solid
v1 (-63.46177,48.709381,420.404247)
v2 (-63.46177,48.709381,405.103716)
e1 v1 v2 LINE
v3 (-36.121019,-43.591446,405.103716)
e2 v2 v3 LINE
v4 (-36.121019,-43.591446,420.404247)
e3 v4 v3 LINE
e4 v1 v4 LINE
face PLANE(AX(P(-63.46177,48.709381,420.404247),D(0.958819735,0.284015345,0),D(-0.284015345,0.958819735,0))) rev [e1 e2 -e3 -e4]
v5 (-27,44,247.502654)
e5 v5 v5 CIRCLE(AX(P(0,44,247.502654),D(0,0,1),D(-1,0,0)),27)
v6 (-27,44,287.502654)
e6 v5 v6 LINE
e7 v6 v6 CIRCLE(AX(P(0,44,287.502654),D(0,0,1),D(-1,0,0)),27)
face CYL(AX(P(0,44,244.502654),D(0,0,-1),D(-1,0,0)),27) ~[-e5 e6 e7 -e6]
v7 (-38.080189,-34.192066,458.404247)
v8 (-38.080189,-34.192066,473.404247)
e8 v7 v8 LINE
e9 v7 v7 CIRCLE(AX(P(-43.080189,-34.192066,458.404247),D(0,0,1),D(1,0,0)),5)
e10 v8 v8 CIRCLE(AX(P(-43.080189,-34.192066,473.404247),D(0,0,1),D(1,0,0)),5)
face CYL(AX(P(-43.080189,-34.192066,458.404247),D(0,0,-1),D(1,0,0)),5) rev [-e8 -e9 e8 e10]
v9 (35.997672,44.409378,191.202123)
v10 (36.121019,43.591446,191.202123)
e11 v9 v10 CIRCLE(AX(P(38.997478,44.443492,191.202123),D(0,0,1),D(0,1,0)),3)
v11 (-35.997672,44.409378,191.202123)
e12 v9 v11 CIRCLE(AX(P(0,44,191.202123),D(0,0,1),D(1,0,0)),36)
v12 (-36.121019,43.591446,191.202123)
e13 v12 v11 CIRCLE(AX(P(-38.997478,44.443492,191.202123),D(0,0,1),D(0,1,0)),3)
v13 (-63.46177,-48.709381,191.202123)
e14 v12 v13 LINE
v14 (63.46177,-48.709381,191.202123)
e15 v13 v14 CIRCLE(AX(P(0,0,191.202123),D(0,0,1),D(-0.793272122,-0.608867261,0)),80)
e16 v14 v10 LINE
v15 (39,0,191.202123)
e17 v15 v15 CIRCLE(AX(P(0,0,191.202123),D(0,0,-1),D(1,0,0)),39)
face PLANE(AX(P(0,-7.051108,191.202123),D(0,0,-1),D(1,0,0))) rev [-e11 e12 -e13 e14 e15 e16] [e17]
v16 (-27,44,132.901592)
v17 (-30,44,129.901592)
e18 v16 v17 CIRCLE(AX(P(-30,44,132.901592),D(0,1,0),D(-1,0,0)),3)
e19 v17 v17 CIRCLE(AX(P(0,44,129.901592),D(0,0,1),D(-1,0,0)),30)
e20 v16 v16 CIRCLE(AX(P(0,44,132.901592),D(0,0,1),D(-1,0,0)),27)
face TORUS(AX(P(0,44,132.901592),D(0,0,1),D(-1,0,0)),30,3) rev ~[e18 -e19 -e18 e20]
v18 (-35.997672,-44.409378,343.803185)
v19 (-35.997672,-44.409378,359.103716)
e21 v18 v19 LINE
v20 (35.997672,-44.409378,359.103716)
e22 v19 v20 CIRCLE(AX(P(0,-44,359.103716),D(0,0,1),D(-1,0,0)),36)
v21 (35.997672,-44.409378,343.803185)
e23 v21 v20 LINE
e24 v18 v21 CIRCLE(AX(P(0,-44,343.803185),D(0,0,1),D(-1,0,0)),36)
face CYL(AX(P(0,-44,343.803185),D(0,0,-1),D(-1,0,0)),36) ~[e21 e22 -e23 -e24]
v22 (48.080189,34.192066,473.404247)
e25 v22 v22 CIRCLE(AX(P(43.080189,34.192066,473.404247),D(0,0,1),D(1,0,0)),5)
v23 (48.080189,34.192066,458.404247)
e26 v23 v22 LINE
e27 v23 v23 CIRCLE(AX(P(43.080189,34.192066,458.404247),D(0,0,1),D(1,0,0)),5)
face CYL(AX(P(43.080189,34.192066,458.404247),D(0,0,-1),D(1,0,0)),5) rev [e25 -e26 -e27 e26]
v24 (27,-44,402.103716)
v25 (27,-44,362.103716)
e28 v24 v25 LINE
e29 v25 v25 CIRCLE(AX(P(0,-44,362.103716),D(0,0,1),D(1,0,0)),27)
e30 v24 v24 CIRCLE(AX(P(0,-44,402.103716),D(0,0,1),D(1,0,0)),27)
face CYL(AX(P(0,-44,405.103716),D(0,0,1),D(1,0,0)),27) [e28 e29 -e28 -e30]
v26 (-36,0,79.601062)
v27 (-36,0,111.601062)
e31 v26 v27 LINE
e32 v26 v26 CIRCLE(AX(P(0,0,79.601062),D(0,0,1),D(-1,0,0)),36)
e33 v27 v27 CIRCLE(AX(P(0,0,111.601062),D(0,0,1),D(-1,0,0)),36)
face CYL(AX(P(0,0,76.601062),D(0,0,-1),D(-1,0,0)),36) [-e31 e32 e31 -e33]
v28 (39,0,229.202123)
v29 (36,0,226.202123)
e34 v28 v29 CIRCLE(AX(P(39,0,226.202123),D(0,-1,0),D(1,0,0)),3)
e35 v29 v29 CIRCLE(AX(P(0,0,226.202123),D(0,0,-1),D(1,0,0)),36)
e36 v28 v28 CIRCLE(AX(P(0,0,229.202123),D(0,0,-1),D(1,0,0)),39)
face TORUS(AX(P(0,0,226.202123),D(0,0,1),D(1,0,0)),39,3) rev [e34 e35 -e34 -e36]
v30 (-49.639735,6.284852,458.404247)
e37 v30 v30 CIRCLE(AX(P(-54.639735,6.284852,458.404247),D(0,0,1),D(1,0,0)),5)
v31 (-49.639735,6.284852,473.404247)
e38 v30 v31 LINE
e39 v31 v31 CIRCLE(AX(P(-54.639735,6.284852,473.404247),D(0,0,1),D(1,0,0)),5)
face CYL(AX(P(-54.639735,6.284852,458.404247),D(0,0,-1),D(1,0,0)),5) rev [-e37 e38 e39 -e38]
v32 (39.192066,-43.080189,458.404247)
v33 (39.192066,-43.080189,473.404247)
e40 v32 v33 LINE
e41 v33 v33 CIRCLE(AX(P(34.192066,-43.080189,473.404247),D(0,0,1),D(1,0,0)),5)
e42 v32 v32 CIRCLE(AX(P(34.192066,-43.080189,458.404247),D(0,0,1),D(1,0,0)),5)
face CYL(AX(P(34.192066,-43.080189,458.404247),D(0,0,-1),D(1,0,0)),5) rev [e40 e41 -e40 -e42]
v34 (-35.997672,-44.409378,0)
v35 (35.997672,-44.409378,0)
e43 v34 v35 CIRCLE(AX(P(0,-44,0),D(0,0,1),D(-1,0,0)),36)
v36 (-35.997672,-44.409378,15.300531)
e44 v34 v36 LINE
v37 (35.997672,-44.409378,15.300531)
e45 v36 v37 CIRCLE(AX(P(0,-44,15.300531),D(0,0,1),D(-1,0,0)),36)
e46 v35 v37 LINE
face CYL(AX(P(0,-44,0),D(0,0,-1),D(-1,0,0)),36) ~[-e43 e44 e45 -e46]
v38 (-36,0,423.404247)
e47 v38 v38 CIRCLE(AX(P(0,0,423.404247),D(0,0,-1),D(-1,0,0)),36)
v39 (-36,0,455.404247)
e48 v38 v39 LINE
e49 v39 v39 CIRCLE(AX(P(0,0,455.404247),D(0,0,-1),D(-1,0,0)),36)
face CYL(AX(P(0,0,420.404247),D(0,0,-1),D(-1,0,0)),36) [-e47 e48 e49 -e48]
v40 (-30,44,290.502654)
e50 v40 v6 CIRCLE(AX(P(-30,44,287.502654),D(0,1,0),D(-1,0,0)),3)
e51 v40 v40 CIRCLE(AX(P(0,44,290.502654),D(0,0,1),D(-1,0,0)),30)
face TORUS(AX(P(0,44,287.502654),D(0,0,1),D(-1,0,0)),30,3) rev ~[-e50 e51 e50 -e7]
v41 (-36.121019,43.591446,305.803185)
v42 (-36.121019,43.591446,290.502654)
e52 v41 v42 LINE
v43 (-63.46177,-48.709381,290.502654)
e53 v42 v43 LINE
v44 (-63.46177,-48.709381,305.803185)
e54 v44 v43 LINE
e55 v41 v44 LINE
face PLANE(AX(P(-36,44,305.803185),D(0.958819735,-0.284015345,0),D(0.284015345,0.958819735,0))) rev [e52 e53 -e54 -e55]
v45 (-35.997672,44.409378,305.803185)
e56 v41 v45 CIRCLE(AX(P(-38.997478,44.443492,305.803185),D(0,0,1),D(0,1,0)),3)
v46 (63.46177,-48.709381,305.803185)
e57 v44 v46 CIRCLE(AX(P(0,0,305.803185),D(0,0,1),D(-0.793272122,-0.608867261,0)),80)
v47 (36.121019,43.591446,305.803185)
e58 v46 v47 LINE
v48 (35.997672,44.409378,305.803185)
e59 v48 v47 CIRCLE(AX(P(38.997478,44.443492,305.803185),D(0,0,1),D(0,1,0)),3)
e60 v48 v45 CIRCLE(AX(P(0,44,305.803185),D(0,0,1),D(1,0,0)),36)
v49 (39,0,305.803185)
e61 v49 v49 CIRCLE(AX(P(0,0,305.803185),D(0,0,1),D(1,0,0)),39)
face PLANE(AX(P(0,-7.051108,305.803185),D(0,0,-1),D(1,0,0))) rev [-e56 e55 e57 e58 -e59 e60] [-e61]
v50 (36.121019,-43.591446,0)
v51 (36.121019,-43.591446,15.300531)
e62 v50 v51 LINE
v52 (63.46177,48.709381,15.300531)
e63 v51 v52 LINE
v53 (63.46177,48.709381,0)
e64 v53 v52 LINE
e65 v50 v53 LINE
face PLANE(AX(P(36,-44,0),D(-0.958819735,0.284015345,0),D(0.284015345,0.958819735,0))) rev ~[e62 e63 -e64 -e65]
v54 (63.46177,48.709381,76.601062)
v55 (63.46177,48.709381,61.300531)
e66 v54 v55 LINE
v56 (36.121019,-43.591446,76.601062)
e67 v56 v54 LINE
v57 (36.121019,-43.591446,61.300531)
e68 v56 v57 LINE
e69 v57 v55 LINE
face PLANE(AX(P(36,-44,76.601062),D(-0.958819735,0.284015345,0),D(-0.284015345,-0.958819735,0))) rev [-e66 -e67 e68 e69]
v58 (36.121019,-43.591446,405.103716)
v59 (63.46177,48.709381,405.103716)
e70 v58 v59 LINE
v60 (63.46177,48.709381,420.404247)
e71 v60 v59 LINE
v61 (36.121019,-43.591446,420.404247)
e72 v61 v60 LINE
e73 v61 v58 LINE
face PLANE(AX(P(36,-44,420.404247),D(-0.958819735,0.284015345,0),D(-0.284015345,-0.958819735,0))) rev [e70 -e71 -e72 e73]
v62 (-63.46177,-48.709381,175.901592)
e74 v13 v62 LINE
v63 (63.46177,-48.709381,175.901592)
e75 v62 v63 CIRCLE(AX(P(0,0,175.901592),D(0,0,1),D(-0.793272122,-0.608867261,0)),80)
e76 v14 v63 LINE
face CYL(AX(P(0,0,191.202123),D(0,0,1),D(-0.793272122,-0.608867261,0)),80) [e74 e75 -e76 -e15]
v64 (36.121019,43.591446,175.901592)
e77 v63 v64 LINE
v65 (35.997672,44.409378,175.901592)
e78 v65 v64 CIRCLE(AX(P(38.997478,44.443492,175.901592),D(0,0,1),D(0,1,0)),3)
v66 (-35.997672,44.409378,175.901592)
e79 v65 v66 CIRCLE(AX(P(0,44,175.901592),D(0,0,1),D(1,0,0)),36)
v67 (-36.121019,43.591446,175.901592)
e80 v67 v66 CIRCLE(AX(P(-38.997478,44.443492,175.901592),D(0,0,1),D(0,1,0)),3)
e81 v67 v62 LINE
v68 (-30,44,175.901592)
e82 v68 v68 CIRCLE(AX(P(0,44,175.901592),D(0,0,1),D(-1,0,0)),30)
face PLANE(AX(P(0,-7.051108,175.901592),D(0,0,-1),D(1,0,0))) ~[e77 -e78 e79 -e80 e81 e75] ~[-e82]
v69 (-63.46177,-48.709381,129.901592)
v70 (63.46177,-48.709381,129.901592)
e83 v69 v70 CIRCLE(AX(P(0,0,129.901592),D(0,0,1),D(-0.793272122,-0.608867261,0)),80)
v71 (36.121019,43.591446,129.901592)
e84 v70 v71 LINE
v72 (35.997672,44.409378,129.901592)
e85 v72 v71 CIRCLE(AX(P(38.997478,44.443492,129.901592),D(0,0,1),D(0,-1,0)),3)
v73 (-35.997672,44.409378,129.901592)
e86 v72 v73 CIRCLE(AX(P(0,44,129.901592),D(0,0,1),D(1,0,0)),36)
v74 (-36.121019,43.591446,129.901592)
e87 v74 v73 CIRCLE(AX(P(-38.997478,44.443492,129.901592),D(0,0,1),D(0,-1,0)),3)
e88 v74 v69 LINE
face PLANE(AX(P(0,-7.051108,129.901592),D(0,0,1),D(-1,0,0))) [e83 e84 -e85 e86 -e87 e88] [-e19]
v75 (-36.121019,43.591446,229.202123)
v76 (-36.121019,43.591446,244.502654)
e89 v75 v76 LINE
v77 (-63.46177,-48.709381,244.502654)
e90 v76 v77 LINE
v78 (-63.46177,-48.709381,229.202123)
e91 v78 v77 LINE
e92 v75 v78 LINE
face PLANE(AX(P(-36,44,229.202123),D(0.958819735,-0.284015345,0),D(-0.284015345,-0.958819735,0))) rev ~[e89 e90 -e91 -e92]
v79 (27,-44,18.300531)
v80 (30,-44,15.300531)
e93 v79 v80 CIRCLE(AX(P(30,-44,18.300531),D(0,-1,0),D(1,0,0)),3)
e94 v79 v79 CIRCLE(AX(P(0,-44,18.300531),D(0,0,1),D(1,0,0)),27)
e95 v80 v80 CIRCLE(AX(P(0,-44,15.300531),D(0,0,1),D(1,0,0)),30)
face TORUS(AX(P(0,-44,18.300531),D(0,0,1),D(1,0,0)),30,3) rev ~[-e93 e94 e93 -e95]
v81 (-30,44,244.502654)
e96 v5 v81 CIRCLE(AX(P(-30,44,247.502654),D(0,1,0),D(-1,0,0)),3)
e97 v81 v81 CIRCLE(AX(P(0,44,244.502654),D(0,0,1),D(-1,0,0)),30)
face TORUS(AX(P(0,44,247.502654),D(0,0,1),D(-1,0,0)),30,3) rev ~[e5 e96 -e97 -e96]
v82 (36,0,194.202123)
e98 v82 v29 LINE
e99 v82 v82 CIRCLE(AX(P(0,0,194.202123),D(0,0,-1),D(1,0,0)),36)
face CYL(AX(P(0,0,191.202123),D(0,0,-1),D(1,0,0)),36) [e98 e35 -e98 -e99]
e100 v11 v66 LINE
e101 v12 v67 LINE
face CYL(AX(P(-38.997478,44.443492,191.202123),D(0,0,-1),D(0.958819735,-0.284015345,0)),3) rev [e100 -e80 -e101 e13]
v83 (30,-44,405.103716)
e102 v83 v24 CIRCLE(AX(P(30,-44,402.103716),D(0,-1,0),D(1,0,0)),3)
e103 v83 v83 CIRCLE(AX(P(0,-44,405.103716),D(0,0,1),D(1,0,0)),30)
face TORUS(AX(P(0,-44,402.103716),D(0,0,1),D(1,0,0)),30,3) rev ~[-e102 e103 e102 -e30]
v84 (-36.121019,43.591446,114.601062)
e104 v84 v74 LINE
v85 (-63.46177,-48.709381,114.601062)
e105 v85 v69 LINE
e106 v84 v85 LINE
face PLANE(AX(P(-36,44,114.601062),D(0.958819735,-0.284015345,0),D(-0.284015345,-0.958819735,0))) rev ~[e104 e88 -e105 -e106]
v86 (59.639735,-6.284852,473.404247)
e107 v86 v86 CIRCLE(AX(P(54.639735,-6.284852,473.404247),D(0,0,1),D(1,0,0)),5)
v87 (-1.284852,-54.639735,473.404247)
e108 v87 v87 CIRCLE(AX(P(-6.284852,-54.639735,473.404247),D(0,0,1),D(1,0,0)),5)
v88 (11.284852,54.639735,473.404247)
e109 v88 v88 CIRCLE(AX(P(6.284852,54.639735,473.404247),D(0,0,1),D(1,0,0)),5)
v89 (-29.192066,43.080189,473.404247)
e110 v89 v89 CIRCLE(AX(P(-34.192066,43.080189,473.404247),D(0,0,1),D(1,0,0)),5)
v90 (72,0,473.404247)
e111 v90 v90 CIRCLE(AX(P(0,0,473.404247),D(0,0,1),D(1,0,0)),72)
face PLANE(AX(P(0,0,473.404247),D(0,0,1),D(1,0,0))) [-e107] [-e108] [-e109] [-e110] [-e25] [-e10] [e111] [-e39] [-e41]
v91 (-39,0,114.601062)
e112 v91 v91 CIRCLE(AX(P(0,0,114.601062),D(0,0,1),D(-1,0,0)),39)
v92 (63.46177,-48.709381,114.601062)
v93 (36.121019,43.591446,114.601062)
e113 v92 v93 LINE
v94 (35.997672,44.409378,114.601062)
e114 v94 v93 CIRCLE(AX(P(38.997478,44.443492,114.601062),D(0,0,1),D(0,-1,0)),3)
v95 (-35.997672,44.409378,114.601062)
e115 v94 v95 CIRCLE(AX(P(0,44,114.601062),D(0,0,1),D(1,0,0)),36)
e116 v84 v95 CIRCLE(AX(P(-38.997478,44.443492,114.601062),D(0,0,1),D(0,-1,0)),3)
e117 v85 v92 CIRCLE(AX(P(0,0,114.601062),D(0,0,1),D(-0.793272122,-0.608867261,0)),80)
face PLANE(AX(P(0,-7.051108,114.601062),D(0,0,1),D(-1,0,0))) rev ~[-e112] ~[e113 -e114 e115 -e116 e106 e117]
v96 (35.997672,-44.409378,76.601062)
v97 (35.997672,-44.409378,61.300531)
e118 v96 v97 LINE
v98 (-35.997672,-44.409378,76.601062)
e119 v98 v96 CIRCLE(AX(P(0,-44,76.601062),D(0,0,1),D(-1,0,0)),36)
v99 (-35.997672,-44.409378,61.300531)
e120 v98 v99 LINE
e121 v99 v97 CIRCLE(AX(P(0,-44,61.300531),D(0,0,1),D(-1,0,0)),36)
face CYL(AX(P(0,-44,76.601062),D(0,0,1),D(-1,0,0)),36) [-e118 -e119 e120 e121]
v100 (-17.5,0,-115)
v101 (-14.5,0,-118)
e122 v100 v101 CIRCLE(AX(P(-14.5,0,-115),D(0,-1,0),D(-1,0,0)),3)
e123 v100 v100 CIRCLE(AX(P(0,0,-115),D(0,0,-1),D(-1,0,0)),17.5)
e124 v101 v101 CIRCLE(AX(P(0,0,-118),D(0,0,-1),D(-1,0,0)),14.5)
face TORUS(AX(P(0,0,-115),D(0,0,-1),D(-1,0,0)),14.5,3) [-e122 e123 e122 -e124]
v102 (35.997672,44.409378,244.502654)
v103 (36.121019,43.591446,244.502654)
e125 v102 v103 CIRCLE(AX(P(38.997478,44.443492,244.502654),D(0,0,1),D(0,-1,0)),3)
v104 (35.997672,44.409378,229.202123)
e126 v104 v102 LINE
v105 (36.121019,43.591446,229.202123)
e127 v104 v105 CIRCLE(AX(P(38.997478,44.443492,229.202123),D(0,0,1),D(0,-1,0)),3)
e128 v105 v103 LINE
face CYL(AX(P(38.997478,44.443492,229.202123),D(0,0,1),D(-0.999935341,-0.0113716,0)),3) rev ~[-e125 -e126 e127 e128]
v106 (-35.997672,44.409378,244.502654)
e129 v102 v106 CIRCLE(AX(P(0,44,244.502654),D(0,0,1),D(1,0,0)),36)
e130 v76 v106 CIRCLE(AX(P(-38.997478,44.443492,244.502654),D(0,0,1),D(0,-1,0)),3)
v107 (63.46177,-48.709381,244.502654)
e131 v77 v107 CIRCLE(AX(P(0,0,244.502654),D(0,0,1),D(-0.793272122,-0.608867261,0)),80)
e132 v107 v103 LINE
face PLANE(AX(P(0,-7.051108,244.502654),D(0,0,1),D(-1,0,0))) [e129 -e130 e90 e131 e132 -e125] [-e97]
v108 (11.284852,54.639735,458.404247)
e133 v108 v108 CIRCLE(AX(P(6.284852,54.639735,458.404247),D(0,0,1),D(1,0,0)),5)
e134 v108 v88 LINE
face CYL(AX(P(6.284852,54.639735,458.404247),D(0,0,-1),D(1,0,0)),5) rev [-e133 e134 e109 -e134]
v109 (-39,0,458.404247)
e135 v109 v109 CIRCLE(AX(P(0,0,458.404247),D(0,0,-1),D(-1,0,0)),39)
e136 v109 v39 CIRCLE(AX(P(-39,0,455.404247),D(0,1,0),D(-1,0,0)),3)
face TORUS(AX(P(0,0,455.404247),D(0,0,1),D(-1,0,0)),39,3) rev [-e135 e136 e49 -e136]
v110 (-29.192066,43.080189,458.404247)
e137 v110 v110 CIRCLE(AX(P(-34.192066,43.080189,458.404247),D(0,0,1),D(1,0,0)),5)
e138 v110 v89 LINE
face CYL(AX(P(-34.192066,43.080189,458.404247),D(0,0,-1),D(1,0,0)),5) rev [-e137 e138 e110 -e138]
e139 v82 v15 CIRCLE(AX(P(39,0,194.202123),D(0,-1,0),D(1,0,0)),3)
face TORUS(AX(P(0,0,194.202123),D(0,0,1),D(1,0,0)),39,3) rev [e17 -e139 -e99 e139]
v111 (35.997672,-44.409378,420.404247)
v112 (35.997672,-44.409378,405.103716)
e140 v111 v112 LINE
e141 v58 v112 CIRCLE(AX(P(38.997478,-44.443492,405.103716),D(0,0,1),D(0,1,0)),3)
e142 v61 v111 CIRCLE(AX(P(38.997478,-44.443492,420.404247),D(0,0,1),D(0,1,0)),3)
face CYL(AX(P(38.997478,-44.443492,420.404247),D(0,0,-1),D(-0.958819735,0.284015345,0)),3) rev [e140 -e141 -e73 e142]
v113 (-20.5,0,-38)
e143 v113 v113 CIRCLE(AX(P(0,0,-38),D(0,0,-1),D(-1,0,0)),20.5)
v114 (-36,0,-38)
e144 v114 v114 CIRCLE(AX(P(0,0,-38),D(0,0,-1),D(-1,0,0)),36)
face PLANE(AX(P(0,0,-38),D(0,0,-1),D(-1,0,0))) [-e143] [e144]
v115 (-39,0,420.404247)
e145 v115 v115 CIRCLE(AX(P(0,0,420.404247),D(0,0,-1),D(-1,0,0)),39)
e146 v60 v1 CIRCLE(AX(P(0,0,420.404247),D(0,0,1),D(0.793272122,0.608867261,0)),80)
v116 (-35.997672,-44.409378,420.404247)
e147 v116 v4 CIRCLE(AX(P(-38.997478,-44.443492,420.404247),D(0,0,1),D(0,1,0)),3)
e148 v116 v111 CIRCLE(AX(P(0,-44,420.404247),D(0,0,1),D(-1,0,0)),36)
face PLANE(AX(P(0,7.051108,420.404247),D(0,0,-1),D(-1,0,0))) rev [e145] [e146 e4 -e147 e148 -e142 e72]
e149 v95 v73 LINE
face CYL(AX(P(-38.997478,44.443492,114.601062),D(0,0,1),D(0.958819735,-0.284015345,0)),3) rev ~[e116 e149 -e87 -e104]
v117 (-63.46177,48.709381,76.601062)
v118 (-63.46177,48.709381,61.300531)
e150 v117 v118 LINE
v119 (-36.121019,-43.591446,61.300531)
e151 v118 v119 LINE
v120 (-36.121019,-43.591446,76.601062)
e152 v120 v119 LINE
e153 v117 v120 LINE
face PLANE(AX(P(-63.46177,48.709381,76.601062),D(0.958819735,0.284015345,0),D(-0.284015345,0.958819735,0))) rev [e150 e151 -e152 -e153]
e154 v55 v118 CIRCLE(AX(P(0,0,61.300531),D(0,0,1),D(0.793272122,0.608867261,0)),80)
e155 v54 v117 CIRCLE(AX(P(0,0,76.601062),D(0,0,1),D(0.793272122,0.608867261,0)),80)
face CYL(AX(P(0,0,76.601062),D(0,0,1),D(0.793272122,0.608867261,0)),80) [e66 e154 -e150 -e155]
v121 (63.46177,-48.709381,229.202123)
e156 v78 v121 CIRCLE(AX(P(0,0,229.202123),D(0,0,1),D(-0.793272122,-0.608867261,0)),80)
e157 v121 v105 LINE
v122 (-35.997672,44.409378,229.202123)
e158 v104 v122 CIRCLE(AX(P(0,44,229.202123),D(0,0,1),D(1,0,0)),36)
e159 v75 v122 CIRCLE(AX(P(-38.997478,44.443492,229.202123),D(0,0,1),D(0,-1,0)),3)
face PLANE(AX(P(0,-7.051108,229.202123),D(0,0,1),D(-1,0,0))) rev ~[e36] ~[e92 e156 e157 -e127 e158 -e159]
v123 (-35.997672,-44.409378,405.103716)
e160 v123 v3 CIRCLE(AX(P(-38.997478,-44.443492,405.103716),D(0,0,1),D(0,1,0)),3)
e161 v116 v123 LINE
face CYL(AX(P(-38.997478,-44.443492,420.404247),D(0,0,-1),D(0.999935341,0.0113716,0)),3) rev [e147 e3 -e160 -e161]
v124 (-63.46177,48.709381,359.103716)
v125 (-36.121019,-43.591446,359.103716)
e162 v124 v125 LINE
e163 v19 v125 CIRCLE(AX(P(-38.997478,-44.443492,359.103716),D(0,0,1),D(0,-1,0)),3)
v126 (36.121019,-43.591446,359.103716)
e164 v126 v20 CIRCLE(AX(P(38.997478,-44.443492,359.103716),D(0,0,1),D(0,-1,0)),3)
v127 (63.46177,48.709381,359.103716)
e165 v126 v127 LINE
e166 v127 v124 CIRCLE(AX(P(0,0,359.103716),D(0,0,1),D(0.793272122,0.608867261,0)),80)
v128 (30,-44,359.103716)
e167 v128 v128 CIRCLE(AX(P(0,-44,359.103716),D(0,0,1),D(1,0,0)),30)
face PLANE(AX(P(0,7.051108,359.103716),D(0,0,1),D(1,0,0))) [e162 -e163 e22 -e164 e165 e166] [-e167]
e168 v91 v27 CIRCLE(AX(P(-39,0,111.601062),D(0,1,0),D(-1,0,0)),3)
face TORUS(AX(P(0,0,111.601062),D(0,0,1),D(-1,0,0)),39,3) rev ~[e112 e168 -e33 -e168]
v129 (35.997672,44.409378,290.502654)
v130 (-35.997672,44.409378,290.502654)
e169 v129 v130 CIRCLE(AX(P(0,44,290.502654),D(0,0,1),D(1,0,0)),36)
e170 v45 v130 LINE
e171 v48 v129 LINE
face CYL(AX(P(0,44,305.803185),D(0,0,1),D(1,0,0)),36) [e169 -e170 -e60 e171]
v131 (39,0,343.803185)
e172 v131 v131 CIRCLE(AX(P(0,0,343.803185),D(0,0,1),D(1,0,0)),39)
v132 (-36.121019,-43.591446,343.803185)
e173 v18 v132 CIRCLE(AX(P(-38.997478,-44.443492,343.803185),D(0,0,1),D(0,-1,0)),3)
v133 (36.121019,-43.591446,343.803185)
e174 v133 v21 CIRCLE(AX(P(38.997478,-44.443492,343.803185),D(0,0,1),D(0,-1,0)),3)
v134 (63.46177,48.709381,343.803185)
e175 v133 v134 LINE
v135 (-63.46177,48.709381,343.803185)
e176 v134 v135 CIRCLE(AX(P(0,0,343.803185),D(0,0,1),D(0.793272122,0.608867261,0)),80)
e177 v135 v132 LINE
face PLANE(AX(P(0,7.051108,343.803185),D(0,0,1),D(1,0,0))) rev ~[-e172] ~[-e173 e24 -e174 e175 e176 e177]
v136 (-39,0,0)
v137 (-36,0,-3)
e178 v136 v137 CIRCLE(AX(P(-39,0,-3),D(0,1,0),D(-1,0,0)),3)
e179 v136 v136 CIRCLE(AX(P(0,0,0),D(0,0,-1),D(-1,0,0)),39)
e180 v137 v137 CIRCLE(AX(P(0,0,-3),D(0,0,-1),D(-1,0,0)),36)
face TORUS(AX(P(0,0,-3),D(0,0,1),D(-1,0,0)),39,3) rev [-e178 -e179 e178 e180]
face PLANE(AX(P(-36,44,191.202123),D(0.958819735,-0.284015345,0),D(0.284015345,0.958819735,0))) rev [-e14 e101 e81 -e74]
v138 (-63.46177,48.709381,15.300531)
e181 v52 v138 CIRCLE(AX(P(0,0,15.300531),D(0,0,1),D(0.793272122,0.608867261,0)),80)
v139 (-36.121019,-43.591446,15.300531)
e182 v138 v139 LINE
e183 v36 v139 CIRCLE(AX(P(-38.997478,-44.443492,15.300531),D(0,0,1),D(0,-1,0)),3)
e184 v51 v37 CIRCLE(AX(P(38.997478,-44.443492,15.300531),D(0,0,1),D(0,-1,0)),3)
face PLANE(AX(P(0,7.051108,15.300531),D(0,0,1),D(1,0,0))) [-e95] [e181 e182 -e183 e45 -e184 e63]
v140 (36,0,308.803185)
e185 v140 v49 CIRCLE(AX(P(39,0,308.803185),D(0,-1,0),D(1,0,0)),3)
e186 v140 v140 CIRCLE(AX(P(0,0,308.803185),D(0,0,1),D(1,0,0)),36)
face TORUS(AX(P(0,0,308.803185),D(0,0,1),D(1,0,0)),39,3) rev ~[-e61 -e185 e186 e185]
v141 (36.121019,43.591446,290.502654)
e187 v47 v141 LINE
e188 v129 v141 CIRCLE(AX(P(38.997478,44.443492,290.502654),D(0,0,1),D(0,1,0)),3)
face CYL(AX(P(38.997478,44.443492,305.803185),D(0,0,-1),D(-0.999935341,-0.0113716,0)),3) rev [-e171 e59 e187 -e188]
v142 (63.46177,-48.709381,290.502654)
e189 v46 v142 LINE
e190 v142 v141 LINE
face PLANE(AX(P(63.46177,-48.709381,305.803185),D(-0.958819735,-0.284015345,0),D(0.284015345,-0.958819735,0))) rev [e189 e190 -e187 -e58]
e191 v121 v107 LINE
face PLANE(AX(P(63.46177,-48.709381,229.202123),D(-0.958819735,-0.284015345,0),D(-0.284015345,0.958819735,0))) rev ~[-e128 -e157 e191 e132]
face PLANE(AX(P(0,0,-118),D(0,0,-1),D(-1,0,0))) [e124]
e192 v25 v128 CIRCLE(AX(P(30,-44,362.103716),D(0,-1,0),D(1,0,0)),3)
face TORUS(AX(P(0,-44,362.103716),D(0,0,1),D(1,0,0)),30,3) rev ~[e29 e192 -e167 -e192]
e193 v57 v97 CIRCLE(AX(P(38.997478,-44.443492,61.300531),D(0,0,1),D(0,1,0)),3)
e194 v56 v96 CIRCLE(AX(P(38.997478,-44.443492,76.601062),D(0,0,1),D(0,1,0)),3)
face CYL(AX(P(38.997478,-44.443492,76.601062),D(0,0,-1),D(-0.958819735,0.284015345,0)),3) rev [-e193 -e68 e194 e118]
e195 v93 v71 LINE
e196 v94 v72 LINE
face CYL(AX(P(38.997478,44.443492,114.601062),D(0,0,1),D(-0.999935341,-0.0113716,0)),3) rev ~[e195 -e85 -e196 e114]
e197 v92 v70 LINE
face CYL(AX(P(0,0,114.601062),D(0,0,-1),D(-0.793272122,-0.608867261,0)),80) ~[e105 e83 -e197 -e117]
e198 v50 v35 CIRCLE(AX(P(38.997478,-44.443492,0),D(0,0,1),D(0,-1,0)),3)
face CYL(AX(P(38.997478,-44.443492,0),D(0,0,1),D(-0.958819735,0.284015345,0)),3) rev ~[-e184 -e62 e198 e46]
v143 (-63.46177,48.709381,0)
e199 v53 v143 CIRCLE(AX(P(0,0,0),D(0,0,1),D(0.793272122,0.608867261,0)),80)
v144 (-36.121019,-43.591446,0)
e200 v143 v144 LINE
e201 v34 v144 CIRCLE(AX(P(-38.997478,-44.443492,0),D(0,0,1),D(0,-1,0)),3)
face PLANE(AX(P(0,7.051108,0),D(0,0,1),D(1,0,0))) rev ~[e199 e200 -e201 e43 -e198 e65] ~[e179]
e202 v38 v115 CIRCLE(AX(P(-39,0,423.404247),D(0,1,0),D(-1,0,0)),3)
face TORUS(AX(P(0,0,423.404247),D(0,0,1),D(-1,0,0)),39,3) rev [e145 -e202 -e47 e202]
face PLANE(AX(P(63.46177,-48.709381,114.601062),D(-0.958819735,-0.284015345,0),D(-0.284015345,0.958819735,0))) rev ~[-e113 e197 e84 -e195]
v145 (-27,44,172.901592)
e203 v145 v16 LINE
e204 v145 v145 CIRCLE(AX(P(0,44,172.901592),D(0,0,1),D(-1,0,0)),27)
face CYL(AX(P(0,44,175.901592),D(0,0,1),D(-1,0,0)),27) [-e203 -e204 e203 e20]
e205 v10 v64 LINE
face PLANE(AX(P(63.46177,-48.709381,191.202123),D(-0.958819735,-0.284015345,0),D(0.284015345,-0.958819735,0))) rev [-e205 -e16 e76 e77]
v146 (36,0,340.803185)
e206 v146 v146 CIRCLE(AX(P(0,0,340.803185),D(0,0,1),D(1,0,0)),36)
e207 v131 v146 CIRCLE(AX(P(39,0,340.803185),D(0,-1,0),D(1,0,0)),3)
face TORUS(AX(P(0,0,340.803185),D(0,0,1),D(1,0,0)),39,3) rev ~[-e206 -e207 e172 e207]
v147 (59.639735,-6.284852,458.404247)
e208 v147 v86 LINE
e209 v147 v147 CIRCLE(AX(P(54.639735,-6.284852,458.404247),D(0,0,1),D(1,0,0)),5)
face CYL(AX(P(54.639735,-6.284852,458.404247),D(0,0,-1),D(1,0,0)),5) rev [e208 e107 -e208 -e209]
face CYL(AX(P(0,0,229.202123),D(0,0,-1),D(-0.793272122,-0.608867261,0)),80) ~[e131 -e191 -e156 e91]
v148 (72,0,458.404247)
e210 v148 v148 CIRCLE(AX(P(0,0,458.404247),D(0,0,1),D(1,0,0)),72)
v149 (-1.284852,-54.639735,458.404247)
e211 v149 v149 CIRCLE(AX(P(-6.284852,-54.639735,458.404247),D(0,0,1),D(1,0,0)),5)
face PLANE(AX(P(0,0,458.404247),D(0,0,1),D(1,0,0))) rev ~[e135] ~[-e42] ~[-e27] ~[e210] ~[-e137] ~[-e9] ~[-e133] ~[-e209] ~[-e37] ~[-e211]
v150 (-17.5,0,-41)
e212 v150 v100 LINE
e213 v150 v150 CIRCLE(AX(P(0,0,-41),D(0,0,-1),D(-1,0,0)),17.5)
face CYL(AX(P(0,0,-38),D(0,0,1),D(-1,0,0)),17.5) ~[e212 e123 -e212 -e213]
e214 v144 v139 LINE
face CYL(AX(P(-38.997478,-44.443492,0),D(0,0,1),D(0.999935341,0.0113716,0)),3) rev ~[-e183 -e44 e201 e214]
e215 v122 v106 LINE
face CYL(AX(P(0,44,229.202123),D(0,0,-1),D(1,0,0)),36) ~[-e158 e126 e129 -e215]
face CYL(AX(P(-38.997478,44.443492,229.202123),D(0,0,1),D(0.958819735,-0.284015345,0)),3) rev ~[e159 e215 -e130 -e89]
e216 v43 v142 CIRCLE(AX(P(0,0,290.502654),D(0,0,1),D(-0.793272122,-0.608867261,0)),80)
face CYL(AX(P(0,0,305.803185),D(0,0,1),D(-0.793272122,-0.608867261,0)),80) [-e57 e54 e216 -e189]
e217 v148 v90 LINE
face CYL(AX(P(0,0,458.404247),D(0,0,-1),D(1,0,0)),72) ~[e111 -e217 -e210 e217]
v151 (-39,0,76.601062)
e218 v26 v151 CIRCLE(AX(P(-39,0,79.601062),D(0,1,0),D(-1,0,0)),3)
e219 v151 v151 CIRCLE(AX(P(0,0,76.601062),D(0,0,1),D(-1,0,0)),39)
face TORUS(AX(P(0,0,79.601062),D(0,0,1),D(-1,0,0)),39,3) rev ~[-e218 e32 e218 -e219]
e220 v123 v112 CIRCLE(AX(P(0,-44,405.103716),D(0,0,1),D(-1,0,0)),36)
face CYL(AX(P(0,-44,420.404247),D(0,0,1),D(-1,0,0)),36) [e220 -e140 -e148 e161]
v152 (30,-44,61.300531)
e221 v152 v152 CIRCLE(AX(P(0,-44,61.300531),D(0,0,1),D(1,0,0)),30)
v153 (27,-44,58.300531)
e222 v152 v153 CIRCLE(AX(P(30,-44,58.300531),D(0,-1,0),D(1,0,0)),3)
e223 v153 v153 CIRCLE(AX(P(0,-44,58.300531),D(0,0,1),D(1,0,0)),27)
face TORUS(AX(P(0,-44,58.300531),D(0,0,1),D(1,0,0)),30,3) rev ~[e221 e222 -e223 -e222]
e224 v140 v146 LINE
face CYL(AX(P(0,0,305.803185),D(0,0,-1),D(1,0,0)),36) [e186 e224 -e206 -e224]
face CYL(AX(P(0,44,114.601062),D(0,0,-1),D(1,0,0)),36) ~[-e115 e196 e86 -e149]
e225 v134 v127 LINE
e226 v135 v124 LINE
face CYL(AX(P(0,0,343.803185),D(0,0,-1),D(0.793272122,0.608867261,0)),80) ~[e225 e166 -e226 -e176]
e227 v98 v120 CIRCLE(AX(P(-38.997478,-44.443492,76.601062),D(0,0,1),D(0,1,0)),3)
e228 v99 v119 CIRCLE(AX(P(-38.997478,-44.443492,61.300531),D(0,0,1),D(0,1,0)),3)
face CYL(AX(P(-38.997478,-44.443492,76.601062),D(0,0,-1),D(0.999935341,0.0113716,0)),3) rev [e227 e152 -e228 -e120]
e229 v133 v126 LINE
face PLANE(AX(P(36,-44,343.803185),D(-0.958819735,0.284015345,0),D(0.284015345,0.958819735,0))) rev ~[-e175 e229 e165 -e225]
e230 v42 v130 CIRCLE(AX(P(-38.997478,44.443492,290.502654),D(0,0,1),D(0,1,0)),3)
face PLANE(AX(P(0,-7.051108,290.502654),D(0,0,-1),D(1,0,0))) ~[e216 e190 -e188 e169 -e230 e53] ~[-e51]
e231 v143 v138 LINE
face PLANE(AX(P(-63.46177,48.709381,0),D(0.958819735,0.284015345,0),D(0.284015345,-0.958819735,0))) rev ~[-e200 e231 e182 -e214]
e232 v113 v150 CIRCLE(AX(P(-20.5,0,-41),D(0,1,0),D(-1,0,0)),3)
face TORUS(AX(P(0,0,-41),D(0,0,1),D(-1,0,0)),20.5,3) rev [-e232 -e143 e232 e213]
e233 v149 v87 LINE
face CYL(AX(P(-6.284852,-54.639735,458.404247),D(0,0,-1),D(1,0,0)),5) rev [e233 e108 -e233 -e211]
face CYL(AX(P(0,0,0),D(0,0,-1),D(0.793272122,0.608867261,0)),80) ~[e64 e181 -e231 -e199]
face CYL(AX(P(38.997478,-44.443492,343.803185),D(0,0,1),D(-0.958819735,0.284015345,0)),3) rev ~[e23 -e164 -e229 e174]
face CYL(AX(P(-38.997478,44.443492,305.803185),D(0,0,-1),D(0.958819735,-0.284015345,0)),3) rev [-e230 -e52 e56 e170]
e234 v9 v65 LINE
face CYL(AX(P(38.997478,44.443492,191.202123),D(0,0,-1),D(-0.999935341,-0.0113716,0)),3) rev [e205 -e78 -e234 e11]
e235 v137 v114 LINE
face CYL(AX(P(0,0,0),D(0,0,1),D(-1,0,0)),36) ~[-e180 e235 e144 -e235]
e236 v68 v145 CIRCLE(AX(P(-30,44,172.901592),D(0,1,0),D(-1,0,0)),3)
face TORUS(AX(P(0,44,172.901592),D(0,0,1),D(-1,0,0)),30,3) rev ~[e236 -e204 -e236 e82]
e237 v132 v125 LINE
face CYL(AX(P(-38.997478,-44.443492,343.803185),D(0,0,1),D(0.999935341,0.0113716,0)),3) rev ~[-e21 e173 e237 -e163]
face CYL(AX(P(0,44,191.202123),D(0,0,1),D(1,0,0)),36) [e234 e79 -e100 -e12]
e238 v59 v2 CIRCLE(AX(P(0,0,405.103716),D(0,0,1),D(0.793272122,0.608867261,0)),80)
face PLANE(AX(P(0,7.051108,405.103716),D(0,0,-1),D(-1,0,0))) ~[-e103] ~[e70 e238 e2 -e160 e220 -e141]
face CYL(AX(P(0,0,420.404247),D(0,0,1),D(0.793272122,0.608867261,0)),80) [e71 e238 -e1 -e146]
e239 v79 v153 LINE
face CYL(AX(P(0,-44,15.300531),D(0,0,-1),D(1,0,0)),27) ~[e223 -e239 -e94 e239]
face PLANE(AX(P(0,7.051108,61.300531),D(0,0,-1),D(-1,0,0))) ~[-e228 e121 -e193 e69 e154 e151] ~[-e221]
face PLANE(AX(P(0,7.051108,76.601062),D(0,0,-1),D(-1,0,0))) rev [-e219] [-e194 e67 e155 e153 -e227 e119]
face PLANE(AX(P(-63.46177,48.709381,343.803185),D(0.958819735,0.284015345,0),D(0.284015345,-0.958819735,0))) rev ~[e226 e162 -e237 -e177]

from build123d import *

# Parameters (mm, degrees)
BOSS_EXTRUDE1_DEPTH   = 15.300530819
SKETCH2_R             = 27
BOSS_EXTRUDE2_DEPTH   = 46
SKETCH3_R             = 36
BOSS_EXTRUDE3_DEPTH   = 38
BODY_MOVE_COPY3_ANGLE = 180
SKETCH4_R             = 17.5
BOSS_EXTRUDE4_DEPTH   = 80
SKETCH5_R             = 72
SKETCH5_R_2           = 5
BOSS_EXTRUDE6_DEPTH   = 15
FILLET1_R             = 3


with BuildPart() as part:
    # Sketch1 → Boss-Extrude1 (new body)
    with BuildSketch(Plane.XY):
        with BuildLine():
            Line((-63.461769721, 48.709380861), (-36, -44))
            ThreePointArc((-36, -44), (0, -80), (36, -44))
            Line((36, -44), (63.461769721, 48.709380861))
            ThreePointArc((63.461769721, 48.709380861), (0, 80), (-63.461769721, 48.709380861))
        make_face()
    boss_extrude1 = extrude(amount=BOSS_EXTRUDE1_DEPTH)

    # Sketch2 → Boss-Extrude2 (add)
    with BuildSketch(Plane.XY.offset(15.300530819)):
        with Locations((0, -44)):
            Circle(SKETCH2_R)
    extrude(amount=BOSS_EXTRUDE2_DEPTH)

    # Sketch3 → Boss-Extrude3 (add)
    with BuildSketch(Plane(origin=(0, 0, 0), x_dir=(-1, 0, 0), z_dir=(0, 0, -1))):
        Circle(SKETCH3_R)
    boss_extrude3 = extrude(amount=BOSS_EXTRUDE3_DEPTH)

    # Mirror1: Boss-Extrude1, Boss-Extrude3 across plane
    add(boss_extrude1.mirror(Plane.XY.offset(38.300530819)))
    add(boss_extrude3.mirror(Plane.XY.offset(38.300530819)))


with BuildPart() as body_2:
    # Mirror8: mirrored copy
    add(part.part.mirror(Plane.XY.offset(95.601061638)))


with BuildPart() as body_2_1:
    # Body-Move/Copy3: moved
    add(body_2.part.rotate(Axis((0, 0, 0), (0, 0, 1)), BODY_MOVE_COPY3_ANGLE))


with BuildPart() as body_3:
    # Mirror9: mirrored copy
    add(part.part.mirror(Plane.XY.offset(210.202123276)))

    # Sketch5 → Boss-Extrude6 (add)
    with BuildSketch(Plane.XY.offset(458.404246553)):
        Circle(SKETCH5_R)
        with Locations((6.28485214, 54.639734933)):
            Circle(SKETCH5_R_2, mode=Mode.SUBTRACT)
        with Locations((43.080188661, 34.192065526)):
            Circle(SKETCH5_R_2, mode=Mode.SUBTRACT)
        with Locations((54.639734933, -6.28485214)):
            Circle(SKETCH5_R_2, mode=Mode.SUBTRACT)
        with Locations((34.192065526, -43.080188661)):
            Circle(SKETCH5_R_2, mode=Mode.SUBTRACT)
        with Locations((-6.28485214, -54.639734933)):
            Circle(SKETCH5_R_2, mode=Mode.SUBTRACT)
        with Locations((-43.080188661, -34.192065526)):
            Circle(SKETCH5_R_2, mode=Mode.SUBTRACT)
        with Locations((-54.639734933, 6.28485214)):
            Circle(SKETCH5_R_2, mode=Mode.SUBTRACT)
        with Locations((-34.192065526, 43.080188661)):
            Circle(SKETCH5_R_2, mode=Mode.SUBTRACT)
    extrude(amount=BOSS_EXTRUDE6_DEPTH)


with BuildPart() as body_4:
    # Mirror9 2: mirrored copy
    add(body_2_1.part.mirror(Plane.XY.offset(210.202123276)))


with BuildPart() as part_1:
    add(part.part)

    # Sketch4 → Boss-Extrude4 (add)
    with BuildSketch(Plane(origin=(0, 0, -38), x_dir=(-1, 0, 0), z_dir=(0, 0, -1))):
        Circle(SKETCH4_R)
    extrude(amount=BOSS_EXTRUDE4_DEPTH)

    # Combine1: union body 2, body 4, body 3
    add(body_2_1.part)
    add(body_4.part)
    add(body_3.part)

    # Fillet1
    fillet1_edges = [part_1.edges().sort_by_distance(p)[0] for p in [
        (-27, -44, 15.300530819),
        (-27, -44, 61.300530819),
        (36, 0, 0),
        (36, -44, 68.950796229),
        (-36, -44, 68.950796229),
        (36, 0, 76.601061638),
        (17.5, 0, -38),
        (17.5, 0, -118),
        (36, 44, 183.551857867),
        (-36, 44, 183.551857867),
        (27, 44, 175.901592457),
        (-36, 0, 191.202123276),
        (27, 44, 129.901592457),
        (-36, 0, 229.202123276),
        (-36, 44, 122.251327048),
        (36, 44, 122.251327048),
        (36, 0, 114.601061638),
        (36, 44, 236.852388686),
        (-36, 44, 236.852388686),
        (27, 44, 244.502654096),
        (-36, 44, 298.152919505),
        (36, 44, 298.152919505),
        (27, 44, 290.502654096),
        (-36, 0, 305.803184915),
        (-36, 0, 343.803184915),
        (-36, -44, 412.753981143),
        (36, -44, 412.753981143),
        (-27, -44, 405.103715734),
        (36, 0, 420.404246553),
        (-27, -44, 359.103715734),
        (36, 0, 458.404246553),
        (36, -44, 351.453450324),
        (-36, -44, 351.453450324),
        (36, -44, 7.65026541),
        (-36, -44, 7.65026541),
    ]]
    fillet(fillet1_edges, radius=FILLET1_R)


solid = part_1.part
